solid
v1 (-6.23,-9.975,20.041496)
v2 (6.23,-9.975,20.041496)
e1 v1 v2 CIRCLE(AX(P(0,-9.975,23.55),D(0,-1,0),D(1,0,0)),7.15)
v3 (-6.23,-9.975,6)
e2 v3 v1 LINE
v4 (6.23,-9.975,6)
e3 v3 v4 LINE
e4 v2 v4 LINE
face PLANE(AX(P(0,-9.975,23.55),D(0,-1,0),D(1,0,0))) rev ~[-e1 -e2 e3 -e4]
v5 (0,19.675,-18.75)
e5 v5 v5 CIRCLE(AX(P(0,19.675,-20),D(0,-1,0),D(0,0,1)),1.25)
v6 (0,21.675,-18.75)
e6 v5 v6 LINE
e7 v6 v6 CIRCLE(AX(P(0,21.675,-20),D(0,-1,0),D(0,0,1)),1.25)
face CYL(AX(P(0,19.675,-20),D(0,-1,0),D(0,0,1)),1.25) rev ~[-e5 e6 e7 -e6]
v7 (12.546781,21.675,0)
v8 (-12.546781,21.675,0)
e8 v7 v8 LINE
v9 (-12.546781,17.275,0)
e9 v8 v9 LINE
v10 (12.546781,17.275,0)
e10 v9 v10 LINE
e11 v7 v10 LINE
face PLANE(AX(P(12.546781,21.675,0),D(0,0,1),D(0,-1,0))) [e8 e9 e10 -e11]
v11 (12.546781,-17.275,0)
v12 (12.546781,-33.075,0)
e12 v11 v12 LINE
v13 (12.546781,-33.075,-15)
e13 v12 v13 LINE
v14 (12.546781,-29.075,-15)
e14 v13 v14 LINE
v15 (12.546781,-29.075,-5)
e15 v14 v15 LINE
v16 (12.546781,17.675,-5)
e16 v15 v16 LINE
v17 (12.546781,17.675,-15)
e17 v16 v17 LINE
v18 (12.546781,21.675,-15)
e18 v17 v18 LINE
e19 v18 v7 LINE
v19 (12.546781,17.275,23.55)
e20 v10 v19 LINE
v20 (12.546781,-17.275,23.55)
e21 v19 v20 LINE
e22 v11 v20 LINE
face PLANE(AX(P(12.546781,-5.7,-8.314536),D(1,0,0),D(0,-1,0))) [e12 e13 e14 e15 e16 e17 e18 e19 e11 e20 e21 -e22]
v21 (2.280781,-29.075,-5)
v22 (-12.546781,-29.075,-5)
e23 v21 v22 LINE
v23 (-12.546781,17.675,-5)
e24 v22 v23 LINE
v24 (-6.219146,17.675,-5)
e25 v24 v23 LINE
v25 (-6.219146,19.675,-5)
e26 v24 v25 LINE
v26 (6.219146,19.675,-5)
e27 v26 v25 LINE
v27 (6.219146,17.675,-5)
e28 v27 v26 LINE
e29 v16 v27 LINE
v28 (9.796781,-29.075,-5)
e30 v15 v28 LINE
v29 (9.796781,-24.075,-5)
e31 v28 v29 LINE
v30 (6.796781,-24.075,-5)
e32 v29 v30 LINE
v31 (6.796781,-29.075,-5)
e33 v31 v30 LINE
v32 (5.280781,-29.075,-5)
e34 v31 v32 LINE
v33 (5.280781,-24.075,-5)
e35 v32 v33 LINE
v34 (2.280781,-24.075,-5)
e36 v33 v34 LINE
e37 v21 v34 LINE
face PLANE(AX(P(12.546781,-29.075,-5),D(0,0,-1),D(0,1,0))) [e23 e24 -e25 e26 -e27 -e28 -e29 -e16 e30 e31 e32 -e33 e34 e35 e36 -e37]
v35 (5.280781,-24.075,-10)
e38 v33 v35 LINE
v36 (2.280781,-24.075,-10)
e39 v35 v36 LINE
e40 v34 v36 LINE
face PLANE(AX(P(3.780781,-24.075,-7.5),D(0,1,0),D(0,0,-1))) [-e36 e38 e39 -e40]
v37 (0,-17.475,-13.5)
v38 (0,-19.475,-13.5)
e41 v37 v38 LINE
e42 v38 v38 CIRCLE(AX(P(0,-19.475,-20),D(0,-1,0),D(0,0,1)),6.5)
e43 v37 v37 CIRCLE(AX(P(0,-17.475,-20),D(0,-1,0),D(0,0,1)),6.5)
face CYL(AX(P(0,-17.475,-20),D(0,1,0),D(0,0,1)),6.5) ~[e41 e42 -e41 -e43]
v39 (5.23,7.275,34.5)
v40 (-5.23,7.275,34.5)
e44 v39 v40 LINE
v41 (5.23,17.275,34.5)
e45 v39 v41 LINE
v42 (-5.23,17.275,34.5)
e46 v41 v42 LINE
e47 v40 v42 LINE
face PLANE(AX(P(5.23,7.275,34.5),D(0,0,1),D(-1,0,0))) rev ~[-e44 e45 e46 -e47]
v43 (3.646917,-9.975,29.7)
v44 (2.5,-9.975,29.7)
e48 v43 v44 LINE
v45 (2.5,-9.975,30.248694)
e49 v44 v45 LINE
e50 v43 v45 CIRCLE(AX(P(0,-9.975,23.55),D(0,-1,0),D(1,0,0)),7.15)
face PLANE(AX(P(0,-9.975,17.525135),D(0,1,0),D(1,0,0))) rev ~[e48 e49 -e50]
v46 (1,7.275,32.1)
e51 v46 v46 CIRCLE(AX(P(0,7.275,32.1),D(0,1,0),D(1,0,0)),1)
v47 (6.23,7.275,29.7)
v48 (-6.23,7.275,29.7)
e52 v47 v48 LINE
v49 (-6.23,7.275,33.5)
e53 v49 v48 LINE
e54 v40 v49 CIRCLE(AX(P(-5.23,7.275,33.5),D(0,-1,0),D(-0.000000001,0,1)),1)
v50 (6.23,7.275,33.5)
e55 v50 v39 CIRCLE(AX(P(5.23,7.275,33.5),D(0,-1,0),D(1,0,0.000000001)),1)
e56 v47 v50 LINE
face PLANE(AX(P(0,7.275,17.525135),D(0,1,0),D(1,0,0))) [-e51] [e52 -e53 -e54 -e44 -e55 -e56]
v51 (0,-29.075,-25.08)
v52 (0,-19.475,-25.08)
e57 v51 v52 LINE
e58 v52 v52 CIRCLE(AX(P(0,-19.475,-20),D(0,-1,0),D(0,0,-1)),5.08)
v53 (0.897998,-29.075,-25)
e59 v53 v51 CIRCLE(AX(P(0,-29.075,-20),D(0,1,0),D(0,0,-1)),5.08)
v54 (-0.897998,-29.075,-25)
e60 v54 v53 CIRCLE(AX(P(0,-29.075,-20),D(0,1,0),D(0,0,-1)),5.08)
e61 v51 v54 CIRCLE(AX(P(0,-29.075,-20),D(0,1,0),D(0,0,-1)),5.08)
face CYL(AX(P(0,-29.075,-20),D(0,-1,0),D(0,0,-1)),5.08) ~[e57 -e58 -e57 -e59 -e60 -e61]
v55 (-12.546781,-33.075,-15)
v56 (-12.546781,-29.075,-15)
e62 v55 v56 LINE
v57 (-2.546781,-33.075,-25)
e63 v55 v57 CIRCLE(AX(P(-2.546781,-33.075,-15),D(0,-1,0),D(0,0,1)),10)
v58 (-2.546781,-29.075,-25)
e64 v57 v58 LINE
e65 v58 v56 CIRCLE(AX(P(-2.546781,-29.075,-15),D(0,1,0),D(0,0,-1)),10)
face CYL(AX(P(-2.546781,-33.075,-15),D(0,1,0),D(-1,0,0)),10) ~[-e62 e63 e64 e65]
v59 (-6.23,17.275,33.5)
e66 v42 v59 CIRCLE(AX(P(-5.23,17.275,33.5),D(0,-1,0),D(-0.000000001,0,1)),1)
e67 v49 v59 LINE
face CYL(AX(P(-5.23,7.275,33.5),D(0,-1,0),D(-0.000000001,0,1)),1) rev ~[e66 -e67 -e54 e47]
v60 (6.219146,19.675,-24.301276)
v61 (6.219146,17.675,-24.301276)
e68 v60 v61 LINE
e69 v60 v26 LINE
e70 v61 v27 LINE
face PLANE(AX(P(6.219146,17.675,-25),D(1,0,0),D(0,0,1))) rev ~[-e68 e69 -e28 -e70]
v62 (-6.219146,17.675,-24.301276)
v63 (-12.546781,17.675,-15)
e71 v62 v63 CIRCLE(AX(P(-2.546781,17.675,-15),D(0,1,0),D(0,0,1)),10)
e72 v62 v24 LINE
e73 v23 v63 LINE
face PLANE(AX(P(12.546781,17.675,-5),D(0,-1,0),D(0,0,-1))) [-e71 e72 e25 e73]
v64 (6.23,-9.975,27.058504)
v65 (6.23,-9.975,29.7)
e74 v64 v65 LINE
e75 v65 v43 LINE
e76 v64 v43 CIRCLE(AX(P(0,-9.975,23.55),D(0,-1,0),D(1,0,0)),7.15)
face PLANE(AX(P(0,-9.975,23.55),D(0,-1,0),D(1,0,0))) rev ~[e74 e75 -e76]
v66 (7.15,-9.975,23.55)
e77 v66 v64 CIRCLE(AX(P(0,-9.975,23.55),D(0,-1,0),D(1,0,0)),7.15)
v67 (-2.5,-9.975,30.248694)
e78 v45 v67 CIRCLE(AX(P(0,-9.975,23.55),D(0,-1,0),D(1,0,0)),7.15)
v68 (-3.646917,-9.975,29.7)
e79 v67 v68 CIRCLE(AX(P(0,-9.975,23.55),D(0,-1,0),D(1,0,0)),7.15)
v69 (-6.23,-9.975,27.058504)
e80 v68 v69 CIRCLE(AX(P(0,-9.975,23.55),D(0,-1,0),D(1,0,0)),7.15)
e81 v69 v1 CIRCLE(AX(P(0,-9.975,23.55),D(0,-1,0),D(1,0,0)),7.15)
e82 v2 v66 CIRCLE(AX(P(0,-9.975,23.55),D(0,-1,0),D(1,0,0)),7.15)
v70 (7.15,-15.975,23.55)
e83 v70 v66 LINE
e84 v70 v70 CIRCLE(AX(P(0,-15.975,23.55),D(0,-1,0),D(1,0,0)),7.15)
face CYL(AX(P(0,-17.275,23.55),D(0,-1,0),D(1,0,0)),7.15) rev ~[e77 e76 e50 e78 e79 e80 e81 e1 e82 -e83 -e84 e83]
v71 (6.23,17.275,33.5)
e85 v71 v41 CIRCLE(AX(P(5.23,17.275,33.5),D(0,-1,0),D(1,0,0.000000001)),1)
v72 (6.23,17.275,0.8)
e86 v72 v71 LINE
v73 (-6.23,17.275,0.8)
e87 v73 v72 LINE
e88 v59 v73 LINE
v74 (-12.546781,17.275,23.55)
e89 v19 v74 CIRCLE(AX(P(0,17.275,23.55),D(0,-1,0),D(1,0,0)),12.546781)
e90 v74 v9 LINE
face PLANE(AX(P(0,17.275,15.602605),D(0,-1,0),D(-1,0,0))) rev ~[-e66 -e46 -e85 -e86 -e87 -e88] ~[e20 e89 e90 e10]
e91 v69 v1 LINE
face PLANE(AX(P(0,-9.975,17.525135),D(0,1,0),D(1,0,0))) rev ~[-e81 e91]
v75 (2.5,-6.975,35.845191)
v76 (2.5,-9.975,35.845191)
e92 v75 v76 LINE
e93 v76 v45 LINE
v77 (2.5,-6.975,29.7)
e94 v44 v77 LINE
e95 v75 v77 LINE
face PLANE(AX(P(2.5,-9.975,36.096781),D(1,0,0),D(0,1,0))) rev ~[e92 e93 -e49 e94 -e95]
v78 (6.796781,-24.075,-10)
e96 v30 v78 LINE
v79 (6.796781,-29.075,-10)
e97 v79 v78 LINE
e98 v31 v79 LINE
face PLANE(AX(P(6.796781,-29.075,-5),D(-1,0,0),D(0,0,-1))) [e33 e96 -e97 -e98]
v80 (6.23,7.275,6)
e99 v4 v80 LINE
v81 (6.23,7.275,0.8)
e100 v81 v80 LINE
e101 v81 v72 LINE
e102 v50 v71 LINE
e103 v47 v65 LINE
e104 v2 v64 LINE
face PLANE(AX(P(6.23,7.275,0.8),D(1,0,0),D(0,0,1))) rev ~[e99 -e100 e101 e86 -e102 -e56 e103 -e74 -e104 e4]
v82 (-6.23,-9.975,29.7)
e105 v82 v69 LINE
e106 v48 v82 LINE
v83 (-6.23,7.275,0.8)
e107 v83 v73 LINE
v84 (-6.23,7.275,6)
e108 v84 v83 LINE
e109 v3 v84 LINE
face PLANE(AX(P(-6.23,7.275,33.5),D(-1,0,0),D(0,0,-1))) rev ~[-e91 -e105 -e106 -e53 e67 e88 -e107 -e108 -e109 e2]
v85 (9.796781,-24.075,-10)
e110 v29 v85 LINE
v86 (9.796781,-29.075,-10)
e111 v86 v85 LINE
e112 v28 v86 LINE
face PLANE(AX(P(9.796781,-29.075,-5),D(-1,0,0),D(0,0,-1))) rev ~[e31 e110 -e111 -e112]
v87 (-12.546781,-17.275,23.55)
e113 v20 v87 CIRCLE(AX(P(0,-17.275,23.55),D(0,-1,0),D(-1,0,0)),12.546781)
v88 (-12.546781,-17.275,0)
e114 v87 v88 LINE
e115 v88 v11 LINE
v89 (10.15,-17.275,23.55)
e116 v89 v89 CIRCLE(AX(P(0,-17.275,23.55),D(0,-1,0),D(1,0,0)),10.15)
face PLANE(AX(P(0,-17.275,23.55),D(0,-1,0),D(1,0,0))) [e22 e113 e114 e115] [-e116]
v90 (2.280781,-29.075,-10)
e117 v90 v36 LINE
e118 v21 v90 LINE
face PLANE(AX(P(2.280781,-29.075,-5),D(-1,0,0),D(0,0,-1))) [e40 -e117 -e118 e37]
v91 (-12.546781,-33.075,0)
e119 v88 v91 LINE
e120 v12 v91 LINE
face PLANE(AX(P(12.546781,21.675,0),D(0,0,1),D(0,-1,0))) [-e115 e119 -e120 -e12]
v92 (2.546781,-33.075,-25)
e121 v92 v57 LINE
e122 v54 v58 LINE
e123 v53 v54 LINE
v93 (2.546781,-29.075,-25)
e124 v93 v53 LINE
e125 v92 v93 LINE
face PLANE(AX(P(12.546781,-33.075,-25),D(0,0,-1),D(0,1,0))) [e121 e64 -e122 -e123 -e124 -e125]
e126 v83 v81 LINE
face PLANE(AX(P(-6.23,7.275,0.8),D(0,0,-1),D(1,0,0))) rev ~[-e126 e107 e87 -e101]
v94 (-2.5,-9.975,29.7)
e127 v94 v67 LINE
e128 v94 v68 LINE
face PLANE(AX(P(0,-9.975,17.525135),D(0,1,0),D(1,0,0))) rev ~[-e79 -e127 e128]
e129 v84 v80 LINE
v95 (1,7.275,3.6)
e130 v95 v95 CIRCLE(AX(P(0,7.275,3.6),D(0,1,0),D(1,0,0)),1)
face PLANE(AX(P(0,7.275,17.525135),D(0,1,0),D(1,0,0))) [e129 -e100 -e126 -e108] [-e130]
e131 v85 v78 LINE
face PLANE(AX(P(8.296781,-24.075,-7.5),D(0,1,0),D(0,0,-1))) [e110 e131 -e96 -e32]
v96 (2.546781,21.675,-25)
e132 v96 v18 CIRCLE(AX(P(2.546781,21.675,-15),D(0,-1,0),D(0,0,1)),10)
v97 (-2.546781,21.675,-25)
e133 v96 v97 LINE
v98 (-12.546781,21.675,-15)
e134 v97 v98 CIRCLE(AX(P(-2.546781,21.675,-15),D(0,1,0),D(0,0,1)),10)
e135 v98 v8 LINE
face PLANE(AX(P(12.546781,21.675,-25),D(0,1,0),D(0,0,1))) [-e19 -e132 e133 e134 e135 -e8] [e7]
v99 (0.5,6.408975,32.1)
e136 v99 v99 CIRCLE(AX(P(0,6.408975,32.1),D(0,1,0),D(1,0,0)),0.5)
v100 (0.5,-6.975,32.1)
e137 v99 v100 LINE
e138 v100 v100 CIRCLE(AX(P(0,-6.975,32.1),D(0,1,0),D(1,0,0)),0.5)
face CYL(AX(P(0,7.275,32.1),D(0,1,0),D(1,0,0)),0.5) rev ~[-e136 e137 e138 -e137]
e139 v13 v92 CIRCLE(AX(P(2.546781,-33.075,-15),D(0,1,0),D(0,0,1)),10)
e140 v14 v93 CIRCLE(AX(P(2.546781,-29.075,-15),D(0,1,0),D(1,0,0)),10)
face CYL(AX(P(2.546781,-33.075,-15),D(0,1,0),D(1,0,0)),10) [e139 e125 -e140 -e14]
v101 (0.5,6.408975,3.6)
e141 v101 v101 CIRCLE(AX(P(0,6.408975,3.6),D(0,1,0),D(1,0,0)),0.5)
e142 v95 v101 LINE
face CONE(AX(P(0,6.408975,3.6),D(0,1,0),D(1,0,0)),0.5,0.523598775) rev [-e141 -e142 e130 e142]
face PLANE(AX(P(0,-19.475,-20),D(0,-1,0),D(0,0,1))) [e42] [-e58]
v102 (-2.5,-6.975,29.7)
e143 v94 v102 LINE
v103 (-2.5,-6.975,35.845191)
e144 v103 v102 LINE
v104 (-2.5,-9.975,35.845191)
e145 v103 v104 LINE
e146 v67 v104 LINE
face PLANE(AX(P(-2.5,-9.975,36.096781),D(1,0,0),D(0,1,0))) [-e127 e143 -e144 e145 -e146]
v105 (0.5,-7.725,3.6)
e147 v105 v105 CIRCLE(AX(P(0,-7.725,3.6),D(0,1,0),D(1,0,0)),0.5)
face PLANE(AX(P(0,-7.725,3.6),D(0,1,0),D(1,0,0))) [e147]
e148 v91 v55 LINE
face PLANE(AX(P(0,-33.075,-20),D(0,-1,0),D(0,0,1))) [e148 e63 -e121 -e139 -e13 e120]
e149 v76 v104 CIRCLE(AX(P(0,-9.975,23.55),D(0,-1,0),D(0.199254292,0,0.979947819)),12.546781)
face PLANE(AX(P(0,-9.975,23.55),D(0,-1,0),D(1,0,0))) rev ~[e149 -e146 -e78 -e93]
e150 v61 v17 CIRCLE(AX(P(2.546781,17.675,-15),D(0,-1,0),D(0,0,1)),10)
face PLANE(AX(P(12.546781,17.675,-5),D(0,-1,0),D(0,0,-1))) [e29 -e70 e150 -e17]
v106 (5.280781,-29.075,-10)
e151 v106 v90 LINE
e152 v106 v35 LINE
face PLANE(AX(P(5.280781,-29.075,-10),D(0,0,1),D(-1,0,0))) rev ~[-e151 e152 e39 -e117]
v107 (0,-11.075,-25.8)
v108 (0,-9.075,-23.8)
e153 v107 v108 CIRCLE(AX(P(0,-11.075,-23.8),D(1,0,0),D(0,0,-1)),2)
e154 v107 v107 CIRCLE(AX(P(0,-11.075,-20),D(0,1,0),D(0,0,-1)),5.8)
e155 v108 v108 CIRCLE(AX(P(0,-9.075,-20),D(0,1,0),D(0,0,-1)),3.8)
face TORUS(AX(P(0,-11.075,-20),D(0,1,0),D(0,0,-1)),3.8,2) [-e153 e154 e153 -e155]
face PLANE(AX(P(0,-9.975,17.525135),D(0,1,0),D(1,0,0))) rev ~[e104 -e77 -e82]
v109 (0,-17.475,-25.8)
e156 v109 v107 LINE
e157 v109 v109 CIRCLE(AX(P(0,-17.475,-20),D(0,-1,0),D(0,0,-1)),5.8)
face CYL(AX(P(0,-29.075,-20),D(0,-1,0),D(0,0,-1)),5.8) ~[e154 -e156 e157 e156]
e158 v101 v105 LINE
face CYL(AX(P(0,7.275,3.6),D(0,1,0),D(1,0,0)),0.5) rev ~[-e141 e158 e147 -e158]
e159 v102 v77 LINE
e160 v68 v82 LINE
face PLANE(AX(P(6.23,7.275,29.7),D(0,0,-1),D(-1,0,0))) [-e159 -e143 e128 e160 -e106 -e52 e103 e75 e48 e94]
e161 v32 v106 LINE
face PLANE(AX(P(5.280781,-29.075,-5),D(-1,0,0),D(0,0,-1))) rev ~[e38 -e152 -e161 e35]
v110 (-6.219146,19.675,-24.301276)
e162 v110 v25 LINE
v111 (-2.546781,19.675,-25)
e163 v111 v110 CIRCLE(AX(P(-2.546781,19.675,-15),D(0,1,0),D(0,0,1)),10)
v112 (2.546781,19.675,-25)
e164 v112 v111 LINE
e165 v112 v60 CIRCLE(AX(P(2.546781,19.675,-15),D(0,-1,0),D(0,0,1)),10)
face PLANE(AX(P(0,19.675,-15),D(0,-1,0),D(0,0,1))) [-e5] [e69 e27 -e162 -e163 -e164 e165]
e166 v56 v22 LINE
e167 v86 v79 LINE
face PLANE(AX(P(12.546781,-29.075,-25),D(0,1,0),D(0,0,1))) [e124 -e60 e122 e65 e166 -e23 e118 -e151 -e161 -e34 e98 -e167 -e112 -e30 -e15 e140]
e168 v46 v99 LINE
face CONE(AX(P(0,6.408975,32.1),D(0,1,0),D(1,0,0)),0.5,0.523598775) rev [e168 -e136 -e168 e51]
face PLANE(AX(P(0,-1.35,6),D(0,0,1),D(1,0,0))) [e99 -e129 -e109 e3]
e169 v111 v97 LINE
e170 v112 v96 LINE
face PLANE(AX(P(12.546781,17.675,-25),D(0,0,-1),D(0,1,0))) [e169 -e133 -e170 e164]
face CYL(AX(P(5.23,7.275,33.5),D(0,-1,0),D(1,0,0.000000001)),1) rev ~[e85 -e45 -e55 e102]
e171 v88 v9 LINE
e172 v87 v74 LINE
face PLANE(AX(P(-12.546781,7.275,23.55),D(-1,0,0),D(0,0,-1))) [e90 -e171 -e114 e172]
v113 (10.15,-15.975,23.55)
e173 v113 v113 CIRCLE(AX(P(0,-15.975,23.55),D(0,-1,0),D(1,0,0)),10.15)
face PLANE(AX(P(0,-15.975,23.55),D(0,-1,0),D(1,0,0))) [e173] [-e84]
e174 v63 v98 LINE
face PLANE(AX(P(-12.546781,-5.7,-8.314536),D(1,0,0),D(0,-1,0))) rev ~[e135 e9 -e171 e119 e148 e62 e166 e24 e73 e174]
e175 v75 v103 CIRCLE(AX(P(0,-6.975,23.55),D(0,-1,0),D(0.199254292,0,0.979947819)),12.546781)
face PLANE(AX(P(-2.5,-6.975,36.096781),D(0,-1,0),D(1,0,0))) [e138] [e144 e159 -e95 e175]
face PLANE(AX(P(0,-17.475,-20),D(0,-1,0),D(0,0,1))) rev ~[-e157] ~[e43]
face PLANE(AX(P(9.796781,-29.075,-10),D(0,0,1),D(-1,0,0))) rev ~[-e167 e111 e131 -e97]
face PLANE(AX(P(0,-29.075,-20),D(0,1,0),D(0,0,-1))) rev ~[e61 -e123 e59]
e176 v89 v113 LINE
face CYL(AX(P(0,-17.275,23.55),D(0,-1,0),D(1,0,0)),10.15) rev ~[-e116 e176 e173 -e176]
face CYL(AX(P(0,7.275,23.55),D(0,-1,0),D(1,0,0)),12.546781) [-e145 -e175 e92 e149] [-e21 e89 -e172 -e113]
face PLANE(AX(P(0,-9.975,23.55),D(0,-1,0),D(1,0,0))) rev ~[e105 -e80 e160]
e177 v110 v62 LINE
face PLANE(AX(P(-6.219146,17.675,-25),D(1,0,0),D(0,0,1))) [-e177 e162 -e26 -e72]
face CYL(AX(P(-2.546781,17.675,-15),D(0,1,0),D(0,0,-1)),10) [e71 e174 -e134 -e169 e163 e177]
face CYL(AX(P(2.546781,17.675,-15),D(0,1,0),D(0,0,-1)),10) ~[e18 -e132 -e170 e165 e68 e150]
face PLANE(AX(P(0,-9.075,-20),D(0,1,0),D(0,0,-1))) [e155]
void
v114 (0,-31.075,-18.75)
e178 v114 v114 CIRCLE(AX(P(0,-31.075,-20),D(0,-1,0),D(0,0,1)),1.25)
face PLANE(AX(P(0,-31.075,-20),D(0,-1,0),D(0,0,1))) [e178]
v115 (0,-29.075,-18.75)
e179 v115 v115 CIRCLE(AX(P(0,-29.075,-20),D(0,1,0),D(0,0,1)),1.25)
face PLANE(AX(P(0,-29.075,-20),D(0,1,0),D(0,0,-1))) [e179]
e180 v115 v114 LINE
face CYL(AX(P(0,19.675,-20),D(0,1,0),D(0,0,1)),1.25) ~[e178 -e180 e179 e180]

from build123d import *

# Parameters (mm, degrees)
SKETCH4_W                = 12.46
SKETCH4_H                = 17.25
BOSS_EXTRUDE3_DEPTH      = 6
SKETCH8_R                = 12.546781182
SKETCH8_R_2              = 11.15
BOSS_EXTRUDE6_DEPTH      = 7.3
BOSS_EXTRUDE6_DEPTH_BACK = 17.25
BOSS_EXTRUDE4_DEPTH      = 17.25
SKETCH6_R                = 0.5
CUT_EXTRUDE1_DEPTH       = 15
CHAMFER1_SIZE            = 0.5
CHAMFER1_SIZE2           = 0.866025404
SKETCH10_W               = 12.46
SKETCH10_H               = 23.7
CUT_EXTRUDE3_DEPTH       = 17.25
CUT_EXTRUDE4_REACH       = 38.097
SKETCH11_W               = 5
SKETCH11_H               = 3
BOSS_EXTRUDE7_DEPTH      = 7.3
BOSS_EXTRUDE9_DEPTH      = 10
SKETCH20_R               = 11.15
SKETCH20_R_2             = 7.15
BOSS_EXTRUDE11_DEPTH     = 7.3
SKETCH21_R               = 10.15
SKETCH21_R_2             = 7.15
CUT_EXTRUDE7_DEPTH       = 1.3
BOSS_EXTRUDE10_DEPTH     = 25.093562
SKETCH18_W               = 20
SKETCH18_H               = 12.438292938
CUT_EXTRUDE5_DEPTH       = 2
SKETCH19_R               = 1.25
CUT_EXTRUDE6_DEPTH       = 53.75
CUT_EXTRUDE6_DEPTH_BACK  = 3
FILLET1_R                = 10
SKETCH22_R               = 5.8
BOSS_EXTRUDE12_DEPTH     = 20
FILLET2_R                = 2
SKETCH23_R               = 5.930854157
SKETCH23_R_2             = 5.08
CUT_EXTRUDE8_DEPTH       = 11.6
SKETCH24_R               = 6.5
BOSS_EXTRUDE13_DEPTH     = 2
SKETCH25_R               = 1.25
BOSS_EXTRUDE14_DEPTH     = 2
SKETCH26_W               = 5
SKETCH26_H               = 3
BOSS_EXTRUDE15_DEPTH     = 5


with BuildPart() as part:
    # Sketch4 → Boss-Extrude3 (new body)
    with BuildSketch(Plane.XY):
        with Locations((0, -1.35)):
            Rectangle(SKETCH4_W, SKETCH4_H)
    extrude(amount=BOSS_EXTRUDE3_DEPTH)



with BuildPart() as body_2:
    # Sketch8 → Boss-Extrude6 (new body, two sides)
    with BuildSketch(Plane(origin=(0, -9.975, 0), x_dir=(-1, 0, 0), z_dir=(0, -1, 0))) as boss_extrude6_sk:
        with Locations((0, -23.55)):
            Circle(SKETCH8_R)
        with Locations((0, -23.55)):
            Circle(SKETCH8_R_2, mode=Mode.SUBTRACT)
    extrude(amount=BOSS_EXTRUDE6_DEPTH)
    extrude(boss_extrude6_sk.sketch, amount=-BOSS_EXTRUDE6_DEPTH_BACK)


with BuildPart() as part_1:
    add(part.part)

    add(body_2.part)  # Boss-Extrude4 merges body 2
    # Sketch5 → Boss-Extrude4 (add)
    with BuildSketch(Plane(origin=(0, 7.275, 0), x_dir=(1, 0, 0), z_dir=(0, 1, 0))):
        with BuildLine():
            Line((12.546781182, -23.55), (12.546781182, 0))
            Line((12.546781182, 0), (6.23, 0))
            Line((6.23, 0), (6.23, -29.7))
            Line((6.23, -29.7), (-6.23, -29.7))
            Line((-6.23, -29.7), (-6.23, 0))
            Line((-6.23, 0), (-12.546781182, 0))
            Line((-12.546781182, 0), (-12.546781182, -23.55))
            ThreePointArc((-12.546781182, -23.55), (0, -36.096781182), (12.546781182, -23.55))
        make_face()
    extrude(amount=-BOSS_EXTRUDE4_DEPTH)

    # Sketch6 → Cut-Extrude1 (cut)
    with BuildSketch(Plane(origin=(0, 7.275, 0), x_dir=(1, 0, 0), z_dir=(0, 1, 0))):
        with Locations((0, -3.6)):
            Circle(SKETCH6_R)
        with Locations((0, -32.1)):
            Circle(SKETCH6_R)
    extrude(amount=-CUT_EXTRUDE1_DEPTH, mode=Mode.SUBTRACT)

    # Chamfer1
    chamfer1_edges = [part_1.edges().sort_by_distance(p)[0] for p in [
        (-0.5, 7.275, 3.6),
        (-0.5, 7.275, 32.1),
    ]]
    chamfer1_side = [part_1.faces().sort_by_distance(p)[0] for p in [
        (0, 7.275, 35.657160381),
    ]]
    chamfer(chamfer1_edges, length=CHAMFER1_SIZE, length2=CHAMFER1_SIZE2, reference=chamfer1_side[0])

    # Sketch10 → Cut-Extrude3 (cut)
    with BuildSketch(Plane(origin=(0, 7.275, 0), x_dir=(1, 0, 0), z_dir=(0, 1, 0))):
        with Locations((0, -17.85)):
            Rectangle(SKETCH10_W, SKETCH10_H)
    extrude(amount=-CUT_EXTRUDE3_DEPTH, mode=Mode.SUBTRACT)

    # Sketch11 → Cut-Extrude4 (cut, up to next)
    with BuildSketch(Plane.XY.offset(36.096781182), mode=Mode.PRIVATE) as cut_extrude4_sk1:
        with Locations((0, -8.475)):
            Rectangle(SKETCH11_W, SKETCH11_H)
    cut_extrude4_tool1 = extrude(cut_extrude4_sk1.sketch, amount=-CUT_EXTRUDE4_REACH, mode=Mode.PRIVATE) & part_1.part
    add(cut_extrude4_tool1.solids().sort_by_distance((0, -8.475, 36.096781))[0], mode=Mode.SUBTRACT)

    # Sketch13 → Boss-Extrude7 (add)
    with BuildSketch(Plane.XZ.offset(17.275)):
        with BuildLine():
            Line((-12.546781182, 23.55), (-12.546781182, 0))
            Line((-12.546781182, 0), (12.546781182, 0))
            Line((12.546781182, 0), (12.546781182, 23.55))
            ThreePointArc((12.546781182, 23.55), (0, 11.003218818), (-12.546781182, 23.55))
        make_face()
    extrude(amount=-BOSS_EXTRUDE7_DEPTH)

    # Sketch15 → Boss-Extrude9 (add)
    with BuildSketch(Plane(origin=(0, 7.275, 0), x_dir=(1, 0, 0), z_dir=(0, 1, 0))):
        with BuildLine():
            Line((-12.546781182, 0), (12.546781182, 0))
            Line((12.546781182, 0), (12.546781182, -23.55))
            ThreePointArc((12.546781182, -23.55), (0, -36.096781182), (-12.546781182, -23.55))
            Line((-12.546781182, -23.55), (-12.546781182, 0))
        make_face()
        with BuildLine():
            Line((-6.23, -0.8), (6.23, -0.8))
            Line((6.23, -0.8), (6.23, -33.5))
            ThreePointArc((6.23, -33.5), (5.937106781, -34.207106781), (5.23, -34.5))
            Line((5.23, -34.5), (-5.23, -34.5))
            ThreePointArc((-5.23, -34.5), (-5.937106781, -34.207106781), (-6.23, -33.5))
            Line((-6.23, -33.5), (-6.23, -0.8))
        make_face(mode=Mode.SUBTRACT)
    extrude(amount=BOSS_EXTRUDE9_DEPTH)

    # Sketch20 → Boss-Extrude11 (add)
    with BuildSketch(Plane.XZ.offset(17.275)):
        with Locations((0, 23.55)):
            Circle(SKETCH20_R)
        with Locations((0, 23.55)):
            Circle(SKETCH20_R_2, mode=Mode.SUBTRACT)
    extrude(amount=-BOSS_EXTRUDE11_DEPTH)

    # Sketch21 → Cut-Extrude7 (cut)
    with BuildSketch(Plane.XZ.offset(17.275)):
        with Locations((0, 23.55)):
            Circle(SKETCH21_R)
        with Locations((0, 23.55)):
            Circle(SKETCH21_R_2, mode=Mode.SUBTRACT)
    extrude(amount=-CUT_EXTRUDE7_DEPTH, mode=Mode.SUBTRACT)

    # Sketch17 → Boss-Extrude10 (add)
    with BuildSketch(Plane(origin=(12.546781182, 4.728218818, 0), x_dir=(0, 1, 0), z_dir=(-1, 0, 0))):
        Polygon((16.946781182, 25), (16.946781182, 0), (-37.803218818, 0), (-37.803218818, 25), (-33.803218818, 25), (-33.803218818, 5), (12.946781182, 5), (12.946781182, 25), align=None)
    extrude(amount=BOSS_EXTRUDE10_DEPTH)

    # Sketch18 → Cut-Extrude5 (cut)
    with BuildSketch(Plane(origin=(0, 17.675, 0), x_dir=(0, 0, 1), z_dir=(0, -1, 0))):
        with Locations((-15, 0)):
            Rectangle(SKETCH18_W, SKETCH18_H)
    extrude(amount=-CUT_EXTRUDE5_DEPTH, mode=Mode.SUBTRACT)

    # Sketch19 → Cut-Extrude6 (cut, two sides)
    with BuildSketch(Plane(origin=(0, 19.675, 0), x_dir=(0, 0, 1), z_dir=(0, -1, 0))) as cut_extrude6_sk:
        with Locations((-20, 0)):
            Circle(SKETCH19_R)
    extrude(amount=CUT_EXTRUDE6_DEPTH, mode=Mode.SUBTRACT)
    extrude(cut_extrude6_sk.sketch, amount=-CUT_EXTRUDE6_DEPTH_BACK, mode=Mode.SUBTRACT)

    # Fillet1
    fillet1_edges = [part_1.edges().sort_by_distance(p)[0] for p in [
        (-12.546780818, 19.675, -25),
        (12.546781182, 19.675, -25),
        (-12.546780818, -31.075, -25),
        (12.546781182, -31.075, -25),
    ]]
    fillet(fillet1_edges, radius=FILLET1_R)

    # Sketch22 → Boss-Extrude12 (add)
    with BuildSketch(Plane(origin=(0, -29.075, 0), x_dir=(0, 0, -1), z_dir=(0, 1, 0))):
        with Locations((20, 0)):
            Circle(SKETCH22_R)
    extrude(amount=BOSS_EXTRUDE12_DEPTH)

    # Fillet2
    fillet2_edges = [part_1.edges().sort_by_distance(p)[0] for p in [
        (0, -9.075, -14.2),
    ]]
    fillet(fillet2_edges, radius=FILLET2_R)

    # Sketch23 → Cut-Extrude8 (cut)
    with BuildSketch(Plane(origin=(0, -29.075, 0), x_dir=(0, 0, -1), z_dir=(0, 1, 0))):
        with Locations((20, 0)):
            Circle(SKETCH23_R)
        with Locations((20, 0)):
            Circle(SKETCH23_R_2, mode=Mode.SUBTRACT)
    extrude(amount=CUT_EXTRUDE8_DEPTH, mode=Mode.SUBTRACT)

    # Sketch24 → Boss-Extrude13 (add)
    with BuildSketch(Plane(origin=(0, -17.475, 0), x_dir=(0, 0, 1), z_dir=(0, -1, 0))):
        with Locations((-20, 0)):
            Circle(SKETCH24_R)
    extrude(amount=BOSS_EXTRUDE13_DEPTH)

    # Sketch25 → Boss-Extrude14 (add)
    with BuildSketch(Plane(origin=(0, -33.075, 0), x_dir=(0, 0, 1), z_dir=(0, -1, 0))):
        with Locations((-20, 0)):
            Circle(SKETCH25_R)
    extrude(amount=-BOSS_EXTRUDE14_DEPTH)

    # Sketch26 → Boss-Extrude15 (add)
    with BuildSketch(Plane(origin=(0, -29.075, 0), x_dir=(0, 0, -1), z_dir=(0, 1, 0))):
        with Locations((7.5, -8.296781182)):
            Rectangle(SKETCH26_W, SKETCH26_H)
        with Locations((7.5, -3.780781182)):
            Rectangle(SKETCH26_W, SKETCH26_H)
    extrude(amount=BOSS_EXTRUDE15_DEPTH)


solid = part_1.part
